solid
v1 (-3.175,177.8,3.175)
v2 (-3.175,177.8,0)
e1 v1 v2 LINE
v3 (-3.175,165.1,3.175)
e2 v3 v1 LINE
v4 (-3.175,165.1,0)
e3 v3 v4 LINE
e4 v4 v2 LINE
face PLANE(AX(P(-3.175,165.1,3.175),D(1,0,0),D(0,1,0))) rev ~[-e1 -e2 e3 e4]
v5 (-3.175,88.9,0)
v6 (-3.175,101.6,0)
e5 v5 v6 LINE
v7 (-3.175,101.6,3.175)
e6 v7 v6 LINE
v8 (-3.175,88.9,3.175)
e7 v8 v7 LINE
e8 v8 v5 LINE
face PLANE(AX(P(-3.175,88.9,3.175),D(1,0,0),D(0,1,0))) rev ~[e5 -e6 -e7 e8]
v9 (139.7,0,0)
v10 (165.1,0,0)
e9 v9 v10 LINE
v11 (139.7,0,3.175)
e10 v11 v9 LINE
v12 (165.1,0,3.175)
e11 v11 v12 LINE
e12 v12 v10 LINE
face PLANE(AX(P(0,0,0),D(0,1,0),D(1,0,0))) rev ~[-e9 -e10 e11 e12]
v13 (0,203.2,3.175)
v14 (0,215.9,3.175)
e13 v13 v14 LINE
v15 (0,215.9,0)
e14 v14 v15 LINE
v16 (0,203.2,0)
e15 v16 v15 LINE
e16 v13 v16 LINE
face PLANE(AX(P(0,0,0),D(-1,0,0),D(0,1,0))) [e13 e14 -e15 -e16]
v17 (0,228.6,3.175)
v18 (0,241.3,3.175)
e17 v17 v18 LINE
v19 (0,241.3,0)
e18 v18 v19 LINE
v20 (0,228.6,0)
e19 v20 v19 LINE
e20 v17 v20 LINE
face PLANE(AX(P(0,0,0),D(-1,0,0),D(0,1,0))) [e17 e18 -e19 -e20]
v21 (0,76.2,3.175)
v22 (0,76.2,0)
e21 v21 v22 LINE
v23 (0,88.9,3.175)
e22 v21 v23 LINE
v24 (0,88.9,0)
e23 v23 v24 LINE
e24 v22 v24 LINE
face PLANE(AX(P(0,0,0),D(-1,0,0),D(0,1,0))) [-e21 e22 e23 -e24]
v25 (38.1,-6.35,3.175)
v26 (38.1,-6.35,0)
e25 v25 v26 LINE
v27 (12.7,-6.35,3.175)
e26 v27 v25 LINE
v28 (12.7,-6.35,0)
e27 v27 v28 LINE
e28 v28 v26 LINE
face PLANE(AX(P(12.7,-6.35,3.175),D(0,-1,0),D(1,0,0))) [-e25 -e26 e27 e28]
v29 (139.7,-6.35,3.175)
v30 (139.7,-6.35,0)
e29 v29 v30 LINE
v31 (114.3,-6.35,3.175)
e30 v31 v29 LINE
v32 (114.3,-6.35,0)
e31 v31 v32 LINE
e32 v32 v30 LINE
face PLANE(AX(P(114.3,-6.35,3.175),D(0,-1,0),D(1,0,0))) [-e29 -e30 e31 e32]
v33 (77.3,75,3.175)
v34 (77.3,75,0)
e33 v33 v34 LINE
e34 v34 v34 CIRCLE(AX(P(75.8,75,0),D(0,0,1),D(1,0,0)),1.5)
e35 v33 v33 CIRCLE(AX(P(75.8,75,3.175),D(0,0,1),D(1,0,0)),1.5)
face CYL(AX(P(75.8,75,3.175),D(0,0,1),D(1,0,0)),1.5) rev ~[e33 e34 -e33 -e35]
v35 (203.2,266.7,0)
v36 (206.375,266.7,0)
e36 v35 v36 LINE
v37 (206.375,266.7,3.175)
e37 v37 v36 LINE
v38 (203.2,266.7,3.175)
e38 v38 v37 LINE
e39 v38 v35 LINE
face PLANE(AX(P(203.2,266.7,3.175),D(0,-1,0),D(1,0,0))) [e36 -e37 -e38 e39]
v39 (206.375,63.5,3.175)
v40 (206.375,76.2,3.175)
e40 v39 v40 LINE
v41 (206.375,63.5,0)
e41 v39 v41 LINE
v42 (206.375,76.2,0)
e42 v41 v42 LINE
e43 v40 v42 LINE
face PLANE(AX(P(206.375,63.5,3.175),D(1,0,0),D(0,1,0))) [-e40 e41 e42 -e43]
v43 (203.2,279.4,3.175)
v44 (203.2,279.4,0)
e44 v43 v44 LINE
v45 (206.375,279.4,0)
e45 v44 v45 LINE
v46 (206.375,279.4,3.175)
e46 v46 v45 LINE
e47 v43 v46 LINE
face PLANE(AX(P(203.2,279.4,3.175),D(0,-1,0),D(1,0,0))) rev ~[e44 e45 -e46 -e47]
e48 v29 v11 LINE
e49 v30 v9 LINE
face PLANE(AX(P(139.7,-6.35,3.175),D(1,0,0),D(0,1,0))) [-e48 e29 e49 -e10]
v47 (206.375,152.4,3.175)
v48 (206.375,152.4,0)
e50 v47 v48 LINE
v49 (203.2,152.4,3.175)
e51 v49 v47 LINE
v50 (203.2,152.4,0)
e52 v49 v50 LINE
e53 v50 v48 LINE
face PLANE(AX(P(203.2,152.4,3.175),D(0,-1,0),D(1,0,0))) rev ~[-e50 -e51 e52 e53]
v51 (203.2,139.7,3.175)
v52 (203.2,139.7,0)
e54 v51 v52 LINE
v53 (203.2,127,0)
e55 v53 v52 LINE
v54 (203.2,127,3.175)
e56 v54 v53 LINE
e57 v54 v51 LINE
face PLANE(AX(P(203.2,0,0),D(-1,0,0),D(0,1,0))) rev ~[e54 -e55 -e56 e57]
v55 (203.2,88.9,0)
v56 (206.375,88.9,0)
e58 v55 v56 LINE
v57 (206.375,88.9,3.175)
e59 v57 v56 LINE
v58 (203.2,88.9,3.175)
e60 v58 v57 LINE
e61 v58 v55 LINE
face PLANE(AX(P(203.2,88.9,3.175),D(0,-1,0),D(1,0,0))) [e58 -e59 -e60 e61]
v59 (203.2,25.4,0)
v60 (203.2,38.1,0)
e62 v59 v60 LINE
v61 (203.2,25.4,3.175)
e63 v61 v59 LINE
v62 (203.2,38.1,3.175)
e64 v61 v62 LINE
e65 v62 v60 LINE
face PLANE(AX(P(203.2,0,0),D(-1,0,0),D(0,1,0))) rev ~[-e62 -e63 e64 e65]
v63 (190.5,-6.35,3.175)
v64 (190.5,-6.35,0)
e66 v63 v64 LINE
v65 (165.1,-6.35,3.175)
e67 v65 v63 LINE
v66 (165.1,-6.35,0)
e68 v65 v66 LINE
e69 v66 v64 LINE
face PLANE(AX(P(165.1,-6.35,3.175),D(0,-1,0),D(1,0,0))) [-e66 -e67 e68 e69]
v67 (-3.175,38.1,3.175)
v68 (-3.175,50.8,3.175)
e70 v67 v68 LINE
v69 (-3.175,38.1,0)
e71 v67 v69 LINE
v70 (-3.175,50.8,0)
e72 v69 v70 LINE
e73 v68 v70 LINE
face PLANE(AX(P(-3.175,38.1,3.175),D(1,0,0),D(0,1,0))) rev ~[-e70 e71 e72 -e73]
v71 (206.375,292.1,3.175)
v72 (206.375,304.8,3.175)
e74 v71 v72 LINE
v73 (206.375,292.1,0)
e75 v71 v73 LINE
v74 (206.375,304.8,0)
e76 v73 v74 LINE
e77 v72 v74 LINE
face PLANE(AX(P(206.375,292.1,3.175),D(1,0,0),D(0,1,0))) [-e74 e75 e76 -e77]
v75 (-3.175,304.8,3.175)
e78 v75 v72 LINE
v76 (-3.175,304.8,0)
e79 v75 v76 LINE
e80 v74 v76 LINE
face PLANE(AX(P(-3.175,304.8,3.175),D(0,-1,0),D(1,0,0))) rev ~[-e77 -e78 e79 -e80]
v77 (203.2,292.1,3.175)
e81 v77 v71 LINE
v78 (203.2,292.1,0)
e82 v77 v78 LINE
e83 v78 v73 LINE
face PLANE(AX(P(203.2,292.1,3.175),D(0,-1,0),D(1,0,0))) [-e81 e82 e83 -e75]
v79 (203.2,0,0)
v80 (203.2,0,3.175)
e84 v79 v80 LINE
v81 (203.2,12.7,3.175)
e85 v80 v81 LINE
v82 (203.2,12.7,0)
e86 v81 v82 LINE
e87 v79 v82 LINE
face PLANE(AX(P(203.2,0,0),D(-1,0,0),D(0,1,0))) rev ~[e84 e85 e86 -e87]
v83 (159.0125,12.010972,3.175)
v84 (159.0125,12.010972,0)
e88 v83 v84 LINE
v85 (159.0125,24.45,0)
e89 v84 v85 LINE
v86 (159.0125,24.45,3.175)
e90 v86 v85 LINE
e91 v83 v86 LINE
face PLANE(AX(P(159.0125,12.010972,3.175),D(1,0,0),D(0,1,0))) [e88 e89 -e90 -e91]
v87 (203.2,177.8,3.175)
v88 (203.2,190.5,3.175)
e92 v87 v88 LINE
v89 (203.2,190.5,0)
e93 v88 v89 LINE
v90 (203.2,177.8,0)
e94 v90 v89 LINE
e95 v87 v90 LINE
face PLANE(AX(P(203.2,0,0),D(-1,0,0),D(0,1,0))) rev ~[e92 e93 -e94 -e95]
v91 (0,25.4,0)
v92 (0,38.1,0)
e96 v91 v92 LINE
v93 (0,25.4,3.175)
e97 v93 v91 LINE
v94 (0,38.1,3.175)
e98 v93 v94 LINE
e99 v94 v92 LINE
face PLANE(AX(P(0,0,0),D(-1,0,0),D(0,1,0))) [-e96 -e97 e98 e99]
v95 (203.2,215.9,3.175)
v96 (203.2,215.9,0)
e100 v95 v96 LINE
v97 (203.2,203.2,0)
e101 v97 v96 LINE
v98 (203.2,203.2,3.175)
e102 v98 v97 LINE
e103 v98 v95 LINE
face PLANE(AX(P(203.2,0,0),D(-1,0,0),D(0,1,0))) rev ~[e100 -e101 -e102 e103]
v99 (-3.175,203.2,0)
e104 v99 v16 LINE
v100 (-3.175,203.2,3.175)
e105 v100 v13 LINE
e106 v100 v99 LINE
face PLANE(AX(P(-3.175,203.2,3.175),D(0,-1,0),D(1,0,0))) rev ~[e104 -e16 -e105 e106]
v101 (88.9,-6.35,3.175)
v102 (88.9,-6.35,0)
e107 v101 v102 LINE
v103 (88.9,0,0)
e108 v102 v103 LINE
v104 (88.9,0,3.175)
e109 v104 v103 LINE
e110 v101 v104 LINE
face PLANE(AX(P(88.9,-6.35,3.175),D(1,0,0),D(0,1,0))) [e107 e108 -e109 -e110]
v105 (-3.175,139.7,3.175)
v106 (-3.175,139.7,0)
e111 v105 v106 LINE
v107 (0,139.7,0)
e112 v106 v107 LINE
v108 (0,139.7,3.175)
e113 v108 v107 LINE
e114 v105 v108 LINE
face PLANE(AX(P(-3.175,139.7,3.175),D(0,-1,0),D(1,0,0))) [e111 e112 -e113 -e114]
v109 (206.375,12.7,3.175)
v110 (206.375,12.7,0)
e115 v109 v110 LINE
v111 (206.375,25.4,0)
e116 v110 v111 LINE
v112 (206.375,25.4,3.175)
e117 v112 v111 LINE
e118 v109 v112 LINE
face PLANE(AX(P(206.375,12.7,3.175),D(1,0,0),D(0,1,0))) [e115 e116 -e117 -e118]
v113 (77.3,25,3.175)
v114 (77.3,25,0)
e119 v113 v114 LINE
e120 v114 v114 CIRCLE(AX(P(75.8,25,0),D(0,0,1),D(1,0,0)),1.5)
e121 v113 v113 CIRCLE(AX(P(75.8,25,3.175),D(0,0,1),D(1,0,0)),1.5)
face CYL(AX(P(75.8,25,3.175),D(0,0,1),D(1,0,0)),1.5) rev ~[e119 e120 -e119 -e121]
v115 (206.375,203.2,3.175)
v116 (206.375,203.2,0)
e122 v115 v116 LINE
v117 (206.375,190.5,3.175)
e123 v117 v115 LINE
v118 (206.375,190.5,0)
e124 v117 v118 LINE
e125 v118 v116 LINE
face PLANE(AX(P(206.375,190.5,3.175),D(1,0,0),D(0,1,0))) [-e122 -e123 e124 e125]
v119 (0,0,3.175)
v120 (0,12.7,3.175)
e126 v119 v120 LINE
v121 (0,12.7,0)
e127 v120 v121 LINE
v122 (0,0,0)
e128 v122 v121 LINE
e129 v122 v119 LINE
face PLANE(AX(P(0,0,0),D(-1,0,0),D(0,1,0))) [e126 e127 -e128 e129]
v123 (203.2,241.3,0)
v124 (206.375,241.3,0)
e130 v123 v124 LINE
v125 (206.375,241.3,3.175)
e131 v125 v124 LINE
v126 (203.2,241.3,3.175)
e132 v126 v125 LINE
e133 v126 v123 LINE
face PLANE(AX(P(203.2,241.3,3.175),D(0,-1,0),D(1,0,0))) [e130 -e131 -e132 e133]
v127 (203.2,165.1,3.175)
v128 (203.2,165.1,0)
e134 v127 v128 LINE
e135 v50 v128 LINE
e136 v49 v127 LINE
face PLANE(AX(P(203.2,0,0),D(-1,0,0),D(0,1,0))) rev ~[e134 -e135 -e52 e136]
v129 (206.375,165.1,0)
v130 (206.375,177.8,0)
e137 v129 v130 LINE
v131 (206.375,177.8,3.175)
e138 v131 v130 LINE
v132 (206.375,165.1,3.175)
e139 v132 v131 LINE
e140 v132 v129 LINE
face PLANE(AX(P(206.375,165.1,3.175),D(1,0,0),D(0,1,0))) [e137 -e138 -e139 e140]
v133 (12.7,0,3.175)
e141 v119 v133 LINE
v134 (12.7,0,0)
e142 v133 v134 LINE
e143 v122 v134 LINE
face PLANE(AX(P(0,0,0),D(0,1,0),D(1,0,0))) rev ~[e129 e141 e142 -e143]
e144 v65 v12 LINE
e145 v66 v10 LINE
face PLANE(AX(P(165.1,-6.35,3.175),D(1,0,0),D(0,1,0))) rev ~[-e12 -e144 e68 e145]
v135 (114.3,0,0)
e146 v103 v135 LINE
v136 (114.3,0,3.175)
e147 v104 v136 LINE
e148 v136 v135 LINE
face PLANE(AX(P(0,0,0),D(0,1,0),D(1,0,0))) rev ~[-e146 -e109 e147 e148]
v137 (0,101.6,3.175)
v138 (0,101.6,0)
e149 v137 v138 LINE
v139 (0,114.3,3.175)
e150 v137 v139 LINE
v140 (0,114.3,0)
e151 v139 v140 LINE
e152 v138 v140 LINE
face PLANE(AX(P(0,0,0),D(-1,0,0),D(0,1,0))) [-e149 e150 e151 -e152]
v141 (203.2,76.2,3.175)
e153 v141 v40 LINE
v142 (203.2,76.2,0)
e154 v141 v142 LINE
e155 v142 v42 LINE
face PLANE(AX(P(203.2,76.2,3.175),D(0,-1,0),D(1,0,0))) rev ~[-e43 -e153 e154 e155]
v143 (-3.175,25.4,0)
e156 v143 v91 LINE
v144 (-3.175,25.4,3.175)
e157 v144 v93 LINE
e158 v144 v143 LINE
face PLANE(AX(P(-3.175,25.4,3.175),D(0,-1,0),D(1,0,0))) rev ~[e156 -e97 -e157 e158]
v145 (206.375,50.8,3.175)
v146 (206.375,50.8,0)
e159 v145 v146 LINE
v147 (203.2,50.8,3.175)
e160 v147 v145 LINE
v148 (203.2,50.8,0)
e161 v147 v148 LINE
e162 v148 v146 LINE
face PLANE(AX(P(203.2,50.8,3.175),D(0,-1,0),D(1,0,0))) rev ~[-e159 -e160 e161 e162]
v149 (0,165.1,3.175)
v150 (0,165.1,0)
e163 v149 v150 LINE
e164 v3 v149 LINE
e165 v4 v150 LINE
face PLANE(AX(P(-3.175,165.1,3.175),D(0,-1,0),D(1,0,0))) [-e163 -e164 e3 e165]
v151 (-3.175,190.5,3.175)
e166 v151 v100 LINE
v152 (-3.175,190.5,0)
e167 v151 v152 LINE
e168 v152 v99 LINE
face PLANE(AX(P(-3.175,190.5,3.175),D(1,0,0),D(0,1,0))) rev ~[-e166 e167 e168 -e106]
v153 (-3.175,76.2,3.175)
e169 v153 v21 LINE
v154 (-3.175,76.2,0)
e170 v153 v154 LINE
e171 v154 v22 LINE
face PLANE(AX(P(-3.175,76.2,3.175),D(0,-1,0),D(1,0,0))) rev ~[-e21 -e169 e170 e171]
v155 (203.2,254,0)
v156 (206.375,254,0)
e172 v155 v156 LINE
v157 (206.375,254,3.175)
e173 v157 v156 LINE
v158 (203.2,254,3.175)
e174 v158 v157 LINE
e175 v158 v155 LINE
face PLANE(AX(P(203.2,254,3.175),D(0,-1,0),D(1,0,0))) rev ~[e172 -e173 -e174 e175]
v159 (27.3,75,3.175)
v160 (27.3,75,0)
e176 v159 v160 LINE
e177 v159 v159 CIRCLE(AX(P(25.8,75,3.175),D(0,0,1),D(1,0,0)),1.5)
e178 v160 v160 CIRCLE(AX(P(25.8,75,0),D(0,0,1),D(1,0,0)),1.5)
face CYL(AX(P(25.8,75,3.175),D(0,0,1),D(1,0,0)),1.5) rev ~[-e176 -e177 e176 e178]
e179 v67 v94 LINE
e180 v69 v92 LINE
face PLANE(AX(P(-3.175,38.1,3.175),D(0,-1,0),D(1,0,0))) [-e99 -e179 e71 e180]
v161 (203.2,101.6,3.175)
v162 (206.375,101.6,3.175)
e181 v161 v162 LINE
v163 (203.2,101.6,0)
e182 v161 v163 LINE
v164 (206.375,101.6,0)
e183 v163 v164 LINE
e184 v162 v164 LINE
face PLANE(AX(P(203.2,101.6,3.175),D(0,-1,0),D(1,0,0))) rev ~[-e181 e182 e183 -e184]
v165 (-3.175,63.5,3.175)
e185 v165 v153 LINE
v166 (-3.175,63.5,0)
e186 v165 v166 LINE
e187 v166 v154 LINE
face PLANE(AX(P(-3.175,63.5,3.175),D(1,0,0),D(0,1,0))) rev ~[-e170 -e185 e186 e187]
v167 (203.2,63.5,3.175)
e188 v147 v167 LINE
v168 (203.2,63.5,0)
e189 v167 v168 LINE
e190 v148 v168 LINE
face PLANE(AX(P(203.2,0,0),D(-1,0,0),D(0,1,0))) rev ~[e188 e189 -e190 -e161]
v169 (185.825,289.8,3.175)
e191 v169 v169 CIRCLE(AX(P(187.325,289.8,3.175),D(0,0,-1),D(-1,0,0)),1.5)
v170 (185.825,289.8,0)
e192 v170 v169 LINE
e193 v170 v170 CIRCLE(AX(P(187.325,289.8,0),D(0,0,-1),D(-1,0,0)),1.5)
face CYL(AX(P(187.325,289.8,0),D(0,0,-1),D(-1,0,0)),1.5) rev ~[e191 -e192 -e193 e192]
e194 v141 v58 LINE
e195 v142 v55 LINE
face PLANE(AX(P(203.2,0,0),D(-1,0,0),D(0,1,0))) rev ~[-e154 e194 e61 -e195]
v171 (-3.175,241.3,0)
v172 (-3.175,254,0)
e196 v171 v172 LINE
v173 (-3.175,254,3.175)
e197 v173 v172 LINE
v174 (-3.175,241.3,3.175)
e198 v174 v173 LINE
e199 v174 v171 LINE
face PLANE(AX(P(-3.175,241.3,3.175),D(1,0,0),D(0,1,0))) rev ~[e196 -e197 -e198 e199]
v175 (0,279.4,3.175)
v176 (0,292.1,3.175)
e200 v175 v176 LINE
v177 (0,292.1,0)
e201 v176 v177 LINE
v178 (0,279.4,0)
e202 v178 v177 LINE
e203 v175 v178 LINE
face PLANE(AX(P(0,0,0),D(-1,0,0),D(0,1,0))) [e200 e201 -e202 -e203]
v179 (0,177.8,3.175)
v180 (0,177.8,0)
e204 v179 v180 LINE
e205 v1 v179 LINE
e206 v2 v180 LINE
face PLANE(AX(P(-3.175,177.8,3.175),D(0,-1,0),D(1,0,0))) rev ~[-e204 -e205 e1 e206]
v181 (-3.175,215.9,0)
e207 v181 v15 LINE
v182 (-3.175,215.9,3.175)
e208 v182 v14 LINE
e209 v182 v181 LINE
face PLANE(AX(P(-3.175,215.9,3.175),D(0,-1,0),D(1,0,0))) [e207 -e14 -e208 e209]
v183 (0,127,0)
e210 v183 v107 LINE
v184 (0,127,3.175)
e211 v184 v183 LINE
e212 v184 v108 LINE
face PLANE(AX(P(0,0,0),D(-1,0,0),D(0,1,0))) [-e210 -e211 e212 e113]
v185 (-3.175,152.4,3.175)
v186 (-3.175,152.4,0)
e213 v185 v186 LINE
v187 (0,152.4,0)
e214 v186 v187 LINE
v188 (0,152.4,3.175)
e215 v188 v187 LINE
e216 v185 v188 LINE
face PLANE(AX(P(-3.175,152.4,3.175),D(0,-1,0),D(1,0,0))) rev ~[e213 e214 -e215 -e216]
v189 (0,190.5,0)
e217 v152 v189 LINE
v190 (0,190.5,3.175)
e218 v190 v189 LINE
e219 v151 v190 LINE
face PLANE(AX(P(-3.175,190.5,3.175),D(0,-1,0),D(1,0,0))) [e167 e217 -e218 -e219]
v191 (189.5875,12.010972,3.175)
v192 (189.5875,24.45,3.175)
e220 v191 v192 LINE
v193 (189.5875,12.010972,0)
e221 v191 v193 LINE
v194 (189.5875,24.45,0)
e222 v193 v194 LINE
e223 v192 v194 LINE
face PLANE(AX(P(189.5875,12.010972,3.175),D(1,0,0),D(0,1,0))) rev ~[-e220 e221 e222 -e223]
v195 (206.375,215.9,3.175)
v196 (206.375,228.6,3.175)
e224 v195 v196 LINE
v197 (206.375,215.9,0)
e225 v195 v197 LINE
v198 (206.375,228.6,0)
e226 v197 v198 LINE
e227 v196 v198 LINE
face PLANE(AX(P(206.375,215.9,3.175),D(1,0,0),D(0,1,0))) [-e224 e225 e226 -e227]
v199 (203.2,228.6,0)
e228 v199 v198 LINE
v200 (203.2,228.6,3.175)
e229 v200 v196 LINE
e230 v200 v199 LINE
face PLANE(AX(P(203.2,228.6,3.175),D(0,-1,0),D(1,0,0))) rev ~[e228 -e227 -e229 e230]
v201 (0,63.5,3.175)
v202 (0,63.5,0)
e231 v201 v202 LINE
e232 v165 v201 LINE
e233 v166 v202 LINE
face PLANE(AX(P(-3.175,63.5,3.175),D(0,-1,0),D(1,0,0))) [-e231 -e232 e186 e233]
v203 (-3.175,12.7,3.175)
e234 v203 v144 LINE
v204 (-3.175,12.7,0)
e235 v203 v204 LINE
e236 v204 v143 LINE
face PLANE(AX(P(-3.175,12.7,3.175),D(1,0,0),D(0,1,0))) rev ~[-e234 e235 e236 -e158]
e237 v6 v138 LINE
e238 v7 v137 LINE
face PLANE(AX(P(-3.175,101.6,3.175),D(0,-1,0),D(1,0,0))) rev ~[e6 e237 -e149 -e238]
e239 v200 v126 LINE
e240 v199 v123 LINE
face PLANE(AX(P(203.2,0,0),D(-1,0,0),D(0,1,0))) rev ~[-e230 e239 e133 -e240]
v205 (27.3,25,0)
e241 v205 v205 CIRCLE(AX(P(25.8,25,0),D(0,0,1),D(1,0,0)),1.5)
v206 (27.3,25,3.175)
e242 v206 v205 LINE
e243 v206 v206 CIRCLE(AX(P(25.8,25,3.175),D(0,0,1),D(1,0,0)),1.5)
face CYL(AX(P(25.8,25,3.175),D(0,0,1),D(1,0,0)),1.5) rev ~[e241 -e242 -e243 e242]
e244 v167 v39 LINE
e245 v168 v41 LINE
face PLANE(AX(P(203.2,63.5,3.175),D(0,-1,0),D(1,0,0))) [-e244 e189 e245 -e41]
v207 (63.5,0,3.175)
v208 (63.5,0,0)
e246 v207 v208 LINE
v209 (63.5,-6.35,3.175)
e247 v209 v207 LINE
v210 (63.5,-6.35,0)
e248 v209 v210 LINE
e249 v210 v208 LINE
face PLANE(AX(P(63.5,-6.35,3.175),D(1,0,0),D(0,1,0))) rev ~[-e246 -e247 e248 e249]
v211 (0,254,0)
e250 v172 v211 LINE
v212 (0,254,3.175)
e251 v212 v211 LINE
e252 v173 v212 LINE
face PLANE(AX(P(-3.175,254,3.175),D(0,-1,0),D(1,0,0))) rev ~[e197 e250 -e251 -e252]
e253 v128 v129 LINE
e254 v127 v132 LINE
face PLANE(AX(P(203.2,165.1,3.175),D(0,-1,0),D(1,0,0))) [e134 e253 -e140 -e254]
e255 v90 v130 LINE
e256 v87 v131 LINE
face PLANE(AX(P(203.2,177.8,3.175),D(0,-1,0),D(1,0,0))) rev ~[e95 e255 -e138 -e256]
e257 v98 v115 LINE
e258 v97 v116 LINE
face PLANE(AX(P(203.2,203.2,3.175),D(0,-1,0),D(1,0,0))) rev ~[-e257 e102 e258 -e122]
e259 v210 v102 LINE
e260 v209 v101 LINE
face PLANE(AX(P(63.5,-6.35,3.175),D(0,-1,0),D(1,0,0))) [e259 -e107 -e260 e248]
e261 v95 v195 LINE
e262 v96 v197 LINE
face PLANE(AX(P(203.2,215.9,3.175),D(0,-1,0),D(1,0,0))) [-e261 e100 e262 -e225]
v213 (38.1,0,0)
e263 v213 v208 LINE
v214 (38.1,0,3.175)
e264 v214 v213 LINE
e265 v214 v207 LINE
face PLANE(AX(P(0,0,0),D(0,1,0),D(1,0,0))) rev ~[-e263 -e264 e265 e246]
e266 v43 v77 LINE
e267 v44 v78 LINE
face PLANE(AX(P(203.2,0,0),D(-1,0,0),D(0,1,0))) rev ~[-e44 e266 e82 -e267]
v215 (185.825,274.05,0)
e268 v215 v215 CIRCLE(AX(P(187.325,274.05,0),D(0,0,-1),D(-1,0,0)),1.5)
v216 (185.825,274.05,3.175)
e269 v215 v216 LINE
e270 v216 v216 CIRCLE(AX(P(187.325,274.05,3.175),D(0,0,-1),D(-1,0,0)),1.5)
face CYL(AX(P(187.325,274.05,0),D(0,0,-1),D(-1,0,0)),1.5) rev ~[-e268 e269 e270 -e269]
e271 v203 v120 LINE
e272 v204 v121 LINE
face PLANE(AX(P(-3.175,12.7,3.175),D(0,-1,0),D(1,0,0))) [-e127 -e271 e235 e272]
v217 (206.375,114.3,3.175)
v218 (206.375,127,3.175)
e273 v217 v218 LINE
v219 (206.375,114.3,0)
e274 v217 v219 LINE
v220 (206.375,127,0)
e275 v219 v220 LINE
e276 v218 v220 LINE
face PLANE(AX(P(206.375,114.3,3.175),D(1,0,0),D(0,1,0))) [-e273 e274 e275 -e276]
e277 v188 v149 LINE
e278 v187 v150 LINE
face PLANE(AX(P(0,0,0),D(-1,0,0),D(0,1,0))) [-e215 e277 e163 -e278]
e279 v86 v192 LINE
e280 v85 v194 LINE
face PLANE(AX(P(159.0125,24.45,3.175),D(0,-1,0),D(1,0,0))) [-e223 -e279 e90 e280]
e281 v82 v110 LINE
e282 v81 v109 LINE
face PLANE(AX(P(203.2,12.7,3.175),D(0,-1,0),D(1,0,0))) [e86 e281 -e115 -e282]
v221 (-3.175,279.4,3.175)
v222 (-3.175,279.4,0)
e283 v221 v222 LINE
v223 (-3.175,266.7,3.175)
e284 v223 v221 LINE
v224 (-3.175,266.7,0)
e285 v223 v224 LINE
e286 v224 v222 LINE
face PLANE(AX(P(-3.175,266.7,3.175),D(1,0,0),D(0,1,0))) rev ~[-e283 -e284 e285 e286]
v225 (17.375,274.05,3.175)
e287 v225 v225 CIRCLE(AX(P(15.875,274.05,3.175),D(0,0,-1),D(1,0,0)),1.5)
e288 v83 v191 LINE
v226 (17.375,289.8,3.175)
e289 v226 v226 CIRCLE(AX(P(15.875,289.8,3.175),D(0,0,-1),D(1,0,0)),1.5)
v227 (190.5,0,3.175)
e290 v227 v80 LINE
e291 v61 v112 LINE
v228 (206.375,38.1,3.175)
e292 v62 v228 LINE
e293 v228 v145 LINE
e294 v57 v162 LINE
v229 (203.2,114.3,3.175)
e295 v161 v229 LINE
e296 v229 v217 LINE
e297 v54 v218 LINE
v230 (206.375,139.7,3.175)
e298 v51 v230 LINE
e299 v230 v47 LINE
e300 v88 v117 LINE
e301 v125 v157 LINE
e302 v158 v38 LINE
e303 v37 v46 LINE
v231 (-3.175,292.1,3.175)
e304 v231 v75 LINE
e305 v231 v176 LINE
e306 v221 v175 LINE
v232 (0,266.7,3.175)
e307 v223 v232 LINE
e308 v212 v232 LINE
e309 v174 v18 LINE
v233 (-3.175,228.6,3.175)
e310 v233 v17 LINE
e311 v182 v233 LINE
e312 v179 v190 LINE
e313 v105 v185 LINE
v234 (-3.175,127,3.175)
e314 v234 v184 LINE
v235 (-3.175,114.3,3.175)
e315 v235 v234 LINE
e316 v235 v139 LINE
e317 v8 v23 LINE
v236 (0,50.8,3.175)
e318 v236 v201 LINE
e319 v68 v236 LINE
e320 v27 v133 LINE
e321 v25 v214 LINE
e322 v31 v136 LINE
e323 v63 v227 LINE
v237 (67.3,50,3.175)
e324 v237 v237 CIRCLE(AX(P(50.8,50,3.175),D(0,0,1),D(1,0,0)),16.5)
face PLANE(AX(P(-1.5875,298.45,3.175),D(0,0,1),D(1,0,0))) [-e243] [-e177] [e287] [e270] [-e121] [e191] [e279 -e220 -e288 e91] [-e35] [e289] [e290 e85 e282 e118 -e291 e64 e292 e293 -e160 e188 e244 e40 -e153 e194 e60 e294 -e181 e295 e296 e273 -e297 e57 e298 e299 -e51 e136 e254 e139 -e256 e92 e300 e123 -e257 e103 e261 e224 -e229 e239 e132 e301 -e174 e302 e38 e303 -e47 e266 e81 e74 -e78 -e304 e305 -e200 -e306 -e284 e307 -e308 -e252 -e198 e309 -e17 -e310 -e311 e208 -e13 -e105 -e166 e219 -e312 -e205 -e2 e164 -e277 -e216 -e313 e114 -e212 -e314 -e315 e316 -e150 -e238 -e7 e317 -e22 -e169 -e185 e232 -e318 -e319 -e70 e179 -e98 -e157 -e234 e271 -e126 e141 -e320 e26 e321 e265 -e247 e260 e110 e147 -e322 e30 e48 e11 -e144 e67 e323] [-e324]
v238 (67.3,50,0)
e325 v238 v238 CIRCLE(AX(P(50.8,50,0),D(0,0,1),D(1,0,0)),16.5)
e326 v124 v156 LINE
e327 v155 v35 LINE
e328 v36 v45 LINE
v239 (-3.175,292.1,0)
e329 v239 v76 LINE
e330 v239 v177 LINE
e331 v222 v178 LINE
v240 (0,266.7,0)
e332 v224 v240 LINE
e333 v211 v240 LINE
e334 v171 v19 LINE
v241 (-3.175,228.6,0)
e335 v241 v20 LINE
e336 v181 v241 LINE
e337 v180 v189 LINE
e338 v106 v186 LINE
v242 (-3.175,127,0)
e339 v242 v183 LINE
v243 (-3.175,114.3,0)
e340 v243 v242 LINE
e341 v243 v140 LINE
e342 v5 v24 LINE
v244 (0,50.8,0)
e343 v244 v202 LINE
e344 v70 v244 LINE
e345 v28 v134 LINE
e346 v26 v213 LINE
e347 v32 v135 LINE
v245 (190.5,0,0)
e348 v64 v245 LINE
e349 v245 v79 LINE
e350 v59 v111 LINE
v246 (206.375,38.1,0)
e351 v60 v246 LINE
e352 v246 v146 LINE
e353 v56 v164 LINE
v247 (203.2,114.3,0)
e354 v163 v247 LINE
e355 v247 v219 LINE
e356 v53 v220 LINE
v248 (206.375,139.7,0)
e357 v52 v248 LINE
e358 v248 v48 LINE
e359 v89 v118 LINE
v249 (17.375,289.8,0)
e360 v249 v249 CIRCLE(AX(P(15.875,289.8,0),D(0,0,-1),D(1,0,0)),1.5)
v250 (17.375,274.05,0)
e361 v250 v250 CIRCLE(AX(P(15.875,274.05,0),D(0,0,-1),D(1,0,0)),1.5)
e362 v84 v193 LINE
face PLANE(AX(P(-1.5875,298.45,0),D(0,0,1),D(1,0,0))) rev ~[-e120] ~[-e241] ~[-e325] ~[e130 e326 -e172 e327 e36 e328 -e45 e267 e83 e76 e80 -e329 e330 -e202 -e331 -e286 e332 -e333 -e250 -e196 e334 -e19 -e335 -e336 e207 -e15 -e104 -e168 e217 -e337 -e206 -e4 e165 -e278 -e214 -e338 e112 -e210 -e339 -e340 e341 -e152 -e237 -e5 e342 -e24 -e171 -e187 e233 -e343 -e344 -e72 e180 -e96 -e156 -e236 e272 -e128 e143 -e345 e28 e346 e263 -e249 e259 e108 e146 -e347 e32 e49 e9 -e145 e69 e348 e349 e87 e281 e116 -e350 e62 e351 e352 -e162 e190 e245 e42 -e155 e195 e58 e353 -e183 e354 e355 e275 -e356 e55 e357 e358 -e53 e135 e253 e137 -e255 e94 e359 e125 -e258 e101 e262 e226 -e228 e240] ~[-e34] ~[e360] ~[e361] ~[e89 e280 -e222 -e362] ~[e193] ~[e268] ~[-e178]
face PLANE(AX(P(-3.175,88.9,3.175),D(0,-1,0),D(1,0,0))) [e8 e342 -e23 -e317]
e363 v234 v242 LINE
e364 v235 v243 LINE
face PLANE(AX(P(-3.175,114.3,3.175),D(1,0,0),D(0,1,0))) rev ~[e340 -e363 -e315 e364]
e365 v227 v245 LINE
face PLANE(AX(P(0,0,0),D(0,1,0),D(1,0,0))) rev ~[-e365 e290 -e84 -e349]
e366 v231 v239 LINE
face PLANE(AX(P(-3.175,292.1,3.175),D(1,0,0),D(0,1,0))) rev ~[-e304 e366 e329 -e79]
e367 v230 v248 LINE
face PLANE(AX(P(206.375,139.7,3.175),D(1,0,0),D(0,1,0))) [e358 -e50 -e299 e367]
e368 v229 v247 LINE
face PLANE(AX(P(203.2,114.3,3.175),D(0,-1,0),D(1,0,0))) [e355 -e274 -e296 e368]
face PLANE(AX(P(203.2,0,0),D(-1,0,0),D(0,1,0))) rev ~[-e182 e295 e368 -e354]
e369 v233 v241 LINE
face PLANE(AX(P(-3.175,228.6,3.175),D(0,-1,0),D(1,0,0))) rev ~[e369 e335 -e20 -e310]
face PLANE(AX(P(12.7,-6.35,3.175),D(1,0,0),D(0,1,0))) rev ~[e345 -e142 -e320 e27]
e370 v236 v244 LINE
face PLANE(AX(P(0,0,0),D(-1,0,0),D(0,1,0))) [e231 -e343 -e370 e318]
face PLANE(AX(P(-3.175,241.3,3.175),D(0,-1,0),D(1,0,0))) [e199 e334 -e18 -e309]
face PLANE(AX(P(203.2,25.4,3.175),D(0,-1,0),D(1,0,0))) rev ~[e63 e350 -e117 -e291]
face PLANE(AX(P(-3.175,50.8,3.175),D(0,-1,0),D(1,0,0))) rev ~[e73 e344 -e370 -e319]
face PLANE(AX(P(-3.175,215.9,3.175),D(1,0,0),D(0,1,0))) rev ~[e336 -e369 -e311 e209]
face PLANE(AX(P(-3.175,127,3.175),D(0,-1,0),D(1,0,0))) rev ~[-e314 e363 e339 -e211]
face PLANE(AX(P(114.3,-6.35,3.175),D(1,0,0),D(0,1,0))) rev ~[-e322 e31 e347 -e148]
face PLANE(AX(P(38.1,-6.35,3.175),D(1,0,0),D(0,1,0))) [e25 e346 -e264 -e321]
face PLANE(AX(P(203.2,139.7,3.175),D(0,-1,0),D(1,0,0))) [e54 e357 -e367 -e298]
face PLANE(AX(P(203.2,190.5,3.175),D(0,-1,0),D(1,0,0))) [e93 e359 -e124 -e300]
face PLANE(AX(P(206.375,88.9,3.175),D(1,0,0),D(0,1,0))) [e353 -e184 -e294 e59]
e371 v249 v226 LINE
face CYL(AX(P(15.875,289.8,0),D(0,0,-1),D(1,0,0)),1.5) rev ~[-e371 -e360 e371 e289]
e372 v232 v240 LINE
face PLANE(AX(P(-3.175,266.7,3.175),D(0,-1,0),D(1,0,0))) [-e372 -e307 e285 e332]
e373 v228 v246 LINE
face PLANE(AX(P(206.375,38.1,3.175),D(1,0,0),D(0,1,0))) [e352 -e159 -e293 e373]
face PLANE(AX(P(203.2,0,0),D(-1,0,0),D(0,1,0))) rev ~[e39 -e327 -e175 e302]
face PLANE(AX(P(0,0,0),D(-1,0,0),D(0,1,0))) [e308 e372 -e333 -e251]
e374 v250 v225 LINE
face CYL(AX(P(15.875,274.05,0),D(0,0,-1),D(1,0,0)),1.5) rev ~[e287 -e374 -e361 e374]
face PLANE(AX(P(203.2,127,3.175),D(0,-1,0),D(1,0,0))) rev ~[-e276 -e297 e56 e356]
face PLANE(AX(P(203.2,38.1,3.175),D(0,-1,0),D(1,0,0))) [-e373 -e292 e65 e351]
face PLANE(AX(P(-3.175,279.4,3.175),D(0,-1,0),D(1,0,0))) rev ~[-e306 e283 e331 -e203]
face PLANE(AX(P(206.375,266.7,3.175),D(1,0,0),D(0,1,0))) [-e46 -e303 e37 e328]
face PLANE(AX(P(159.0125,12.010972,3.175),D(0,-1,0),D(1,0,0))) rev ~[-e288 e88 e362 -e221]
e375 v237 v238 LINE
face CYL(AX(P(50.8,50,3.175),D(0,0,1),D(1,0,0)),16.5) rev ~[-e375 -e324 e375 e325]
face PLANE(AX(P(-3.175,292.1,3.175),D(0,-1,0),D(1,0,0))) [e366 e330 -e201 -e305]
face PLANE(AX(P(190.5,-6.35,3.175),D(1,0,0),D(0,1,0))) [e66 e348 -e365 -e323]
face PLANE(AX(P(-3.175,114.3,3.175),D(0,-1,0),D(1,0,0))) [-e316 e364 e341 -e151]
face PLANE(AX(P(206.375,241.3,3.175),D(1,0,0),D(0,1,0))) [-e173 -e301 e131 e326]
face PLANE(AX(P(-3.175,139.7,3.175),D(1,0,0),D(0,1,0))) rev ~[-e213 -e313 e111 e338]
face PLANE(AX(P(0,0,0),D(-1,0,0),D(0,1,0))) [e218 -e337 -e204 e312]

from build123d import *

# Parameters (mm, degrees)
SKETCH1_W           = 203.2
SKETCH1_H           = 304.8
BOSS_EXTRUDE1_DEPTH = 3.175
SKETCH2_W           = 3.175
SKETCH2_H           = 12.7
SKETCH2_W_2         = 25.4
SKETCH2_H_2         = 6.35
BOSS_EXTRUDE2_DEPTH = 3.175
SKETCH4_R           = 16.5
SKETCH4_R_2         = 1.5
CUT_EXTRUDE1_DEPTH  = 3.175
SKETCH5_R           = 1.5
CUT_EXTRUDE2_DEPTH  = 3.175
SKETCH7_W           = 30.575
SKETCH7_H           = 12.439028
CUT_EXTRUDE4_DEPTH  = 3.175


with BuildPart() as part:
    # Sketch1 → Boss-Extrude1 (new body)
    with BuildSketch(Plane.XY):
        with Locations((101.6, 152.4)):
            Rectangle(SKETCH1_W, SKETCH1_H)
    extrude(amount=BOSS_EXTRUDE1_DEPTH)

    # Sketch2 → Boss-Extrude2 (add)
    with BuildSketch(Plane.XY.offset(3.175)):
        with Locations((-1.5875, 298.45)):
            Rectangle(SKETCH2_W, SKETCH2_H)
        with Locations((204.7875, 298.45)):
            Rectangle(SKETCH2_W, SKETCH2_H)
        with Locations((-1.5875, 273.05)):
            Rectangle(SKETCH2_W, SKETCH2_H)
        with Locations((204.7875, 273.05)):
            Rectangle(SKETCH2_W, SKETCH2_H)
        with Locations((-1.5875, 247.65)):
            Rectangle(SKETCH2_W, SKETCH2_H)
        with Locations((204.7875, 247.65)):
            Rectangle(SKETCH2_W, SKETCH2_H)
        with Locations((-1.5875, 222.25)):
            Rectangle(SKETCH2_W, SKETCH2_H)
        with Locations((204.7875, 222.25)):
            Rectangle(SKETCH2_W, SKETCH2_H)
        with Locations((-1.5875, 196.85)):
            Rectangle(SKETCH2_W, SKETCH2_H)
        with Locations((204.7875, 196.85)):
            Rectangle(SKETCH2_W, SKETCH2_H)
        with Locations((-1.5875, 171.45)):
            Rectangle(SKETCH2_W, SKETCH2_H)
        with Locations((204.7875, 171.45)):
            Rectangle(SKETCH2_W, SKETCH2_H)
        with Locations((-1.5875, 146.05)):
            Rectangle(SKETCH2_W, SKETCH2_H)
        with Locations((204.7875, 146.05)):
            Rectangle(SKETCH2_W, SKETCH2_H)
        with Locations((-1.5875, 120.65)):
            Rectangle(SKETCH2_W, SKETCH2_H)
        with Locations((204.7875, 120.65)):
            Rectangle(SKETCH2_W, SKETCH2_H)
        with Locations((-1.5875, 95.25)):
            Rectangle(SKETCH2_W, SKETCH2_H)
        with Locations((204.7875, 95.25)):
            Rectangle(SKETCH2_W, SKETCH2_H)
        with Locations((-1.5875, 69.85)):
            Rectangle(SKETCH2_W, SKETCH2_H)
        with Locations((204.7875, 69.85)):
            Rectangle(SKETCH2_W, SKETCH2_H)
        with Locations((-1.5875, 44.45)):
            Rectangle(SKETCH2_W, SKETCH2_H)
        with Locations((204.7875, 44.45)):
            Rectangle(SKETCH2_W, SKETCH2_H)
        with Locations((-1.5875, 19.05)):
            Rectangle(SKETCH2_W, SKETCH2_H)
        with Locations((204.7875, 19.05)):
            Rectangle(SKETCH2_W, SKETCH2_H)
        with Locations((25.4, -3.175)):
            Rectangle(SKETCH2_W_2, SKETCH2_H_2)
        with Locations((76.2, -3.175)):
            Rectangle(SKETCH2_W_2, SKETCH2_H_2)
        with Locations((127, -3.175)):
            Rectangle(SKETCH2_W_2, SKETCH2_H_2)
        with Locations((177.8, -3.175)):
            Rectangle(SKETCH2_W_2, SKETCH2_H_2)
    extrude(amount=-BOSS_EXTRUDE2_DEPTH)

    # Sketch4 → Cut-Extrude1 (cut)
    with BuildSketch(Plane.XY.offset(3.175)):
        with Locations((50.8, 50)):
            Circle(SKETCH4_R)
        with Locations((25.8, 75)):
            Circle(SKETCH4_R_2)
        with Locations((75.8, 75)):
            Circle(SKETCH4_R_2)
        with Locations((75.8, 25)):
            Circle(SKETCH4_R_2)
        with Locations((25.8, 25)):
            Circle(SKETCH4_R_2)
    extrude(amount=-CUT_EXTRUDE1_DEPTH, mode=Mode.SUBTRACT)

    # Sketch5 → Cut-Extrude2 (cut)
    with BuildSketch(Plane(origin=(0, 0, 0), x_dir=(-1, 0, 0), z_dir=(0, 0, -1))):
        with Locations((-187.325, 289.8)):
            Circle(SKETCH5_R)
        with Locations((-187.325, 274.05)):
            Circle(SKETCH5_R)
        with Locations(Location((-15.875, 274.05, 0), (0, 0, 180))):
            Circle(SKETCH5_R)
        with Locations(Location((-15.875, 289.8, 0), (0, 0, 180))):
            Circle(SKETCH5_R)
    extrude(amount=-CUT_EXTRUDE2_DEPTH, mode=Mode.SUBTRACT)

    # Sketch7 → Cut-Extrude4 (cut)
    with BuildSketch(Plane.XY.offset(3.175)):
        with Locations((174.3, 18.230486)):
            Rectangle(SKETCH7_W, SKETCH7_H)
    extrude(amount=-CUT_EXTRUDE4_DEPTH, mode=Mode.SUBTRACT)


solid = part.part
